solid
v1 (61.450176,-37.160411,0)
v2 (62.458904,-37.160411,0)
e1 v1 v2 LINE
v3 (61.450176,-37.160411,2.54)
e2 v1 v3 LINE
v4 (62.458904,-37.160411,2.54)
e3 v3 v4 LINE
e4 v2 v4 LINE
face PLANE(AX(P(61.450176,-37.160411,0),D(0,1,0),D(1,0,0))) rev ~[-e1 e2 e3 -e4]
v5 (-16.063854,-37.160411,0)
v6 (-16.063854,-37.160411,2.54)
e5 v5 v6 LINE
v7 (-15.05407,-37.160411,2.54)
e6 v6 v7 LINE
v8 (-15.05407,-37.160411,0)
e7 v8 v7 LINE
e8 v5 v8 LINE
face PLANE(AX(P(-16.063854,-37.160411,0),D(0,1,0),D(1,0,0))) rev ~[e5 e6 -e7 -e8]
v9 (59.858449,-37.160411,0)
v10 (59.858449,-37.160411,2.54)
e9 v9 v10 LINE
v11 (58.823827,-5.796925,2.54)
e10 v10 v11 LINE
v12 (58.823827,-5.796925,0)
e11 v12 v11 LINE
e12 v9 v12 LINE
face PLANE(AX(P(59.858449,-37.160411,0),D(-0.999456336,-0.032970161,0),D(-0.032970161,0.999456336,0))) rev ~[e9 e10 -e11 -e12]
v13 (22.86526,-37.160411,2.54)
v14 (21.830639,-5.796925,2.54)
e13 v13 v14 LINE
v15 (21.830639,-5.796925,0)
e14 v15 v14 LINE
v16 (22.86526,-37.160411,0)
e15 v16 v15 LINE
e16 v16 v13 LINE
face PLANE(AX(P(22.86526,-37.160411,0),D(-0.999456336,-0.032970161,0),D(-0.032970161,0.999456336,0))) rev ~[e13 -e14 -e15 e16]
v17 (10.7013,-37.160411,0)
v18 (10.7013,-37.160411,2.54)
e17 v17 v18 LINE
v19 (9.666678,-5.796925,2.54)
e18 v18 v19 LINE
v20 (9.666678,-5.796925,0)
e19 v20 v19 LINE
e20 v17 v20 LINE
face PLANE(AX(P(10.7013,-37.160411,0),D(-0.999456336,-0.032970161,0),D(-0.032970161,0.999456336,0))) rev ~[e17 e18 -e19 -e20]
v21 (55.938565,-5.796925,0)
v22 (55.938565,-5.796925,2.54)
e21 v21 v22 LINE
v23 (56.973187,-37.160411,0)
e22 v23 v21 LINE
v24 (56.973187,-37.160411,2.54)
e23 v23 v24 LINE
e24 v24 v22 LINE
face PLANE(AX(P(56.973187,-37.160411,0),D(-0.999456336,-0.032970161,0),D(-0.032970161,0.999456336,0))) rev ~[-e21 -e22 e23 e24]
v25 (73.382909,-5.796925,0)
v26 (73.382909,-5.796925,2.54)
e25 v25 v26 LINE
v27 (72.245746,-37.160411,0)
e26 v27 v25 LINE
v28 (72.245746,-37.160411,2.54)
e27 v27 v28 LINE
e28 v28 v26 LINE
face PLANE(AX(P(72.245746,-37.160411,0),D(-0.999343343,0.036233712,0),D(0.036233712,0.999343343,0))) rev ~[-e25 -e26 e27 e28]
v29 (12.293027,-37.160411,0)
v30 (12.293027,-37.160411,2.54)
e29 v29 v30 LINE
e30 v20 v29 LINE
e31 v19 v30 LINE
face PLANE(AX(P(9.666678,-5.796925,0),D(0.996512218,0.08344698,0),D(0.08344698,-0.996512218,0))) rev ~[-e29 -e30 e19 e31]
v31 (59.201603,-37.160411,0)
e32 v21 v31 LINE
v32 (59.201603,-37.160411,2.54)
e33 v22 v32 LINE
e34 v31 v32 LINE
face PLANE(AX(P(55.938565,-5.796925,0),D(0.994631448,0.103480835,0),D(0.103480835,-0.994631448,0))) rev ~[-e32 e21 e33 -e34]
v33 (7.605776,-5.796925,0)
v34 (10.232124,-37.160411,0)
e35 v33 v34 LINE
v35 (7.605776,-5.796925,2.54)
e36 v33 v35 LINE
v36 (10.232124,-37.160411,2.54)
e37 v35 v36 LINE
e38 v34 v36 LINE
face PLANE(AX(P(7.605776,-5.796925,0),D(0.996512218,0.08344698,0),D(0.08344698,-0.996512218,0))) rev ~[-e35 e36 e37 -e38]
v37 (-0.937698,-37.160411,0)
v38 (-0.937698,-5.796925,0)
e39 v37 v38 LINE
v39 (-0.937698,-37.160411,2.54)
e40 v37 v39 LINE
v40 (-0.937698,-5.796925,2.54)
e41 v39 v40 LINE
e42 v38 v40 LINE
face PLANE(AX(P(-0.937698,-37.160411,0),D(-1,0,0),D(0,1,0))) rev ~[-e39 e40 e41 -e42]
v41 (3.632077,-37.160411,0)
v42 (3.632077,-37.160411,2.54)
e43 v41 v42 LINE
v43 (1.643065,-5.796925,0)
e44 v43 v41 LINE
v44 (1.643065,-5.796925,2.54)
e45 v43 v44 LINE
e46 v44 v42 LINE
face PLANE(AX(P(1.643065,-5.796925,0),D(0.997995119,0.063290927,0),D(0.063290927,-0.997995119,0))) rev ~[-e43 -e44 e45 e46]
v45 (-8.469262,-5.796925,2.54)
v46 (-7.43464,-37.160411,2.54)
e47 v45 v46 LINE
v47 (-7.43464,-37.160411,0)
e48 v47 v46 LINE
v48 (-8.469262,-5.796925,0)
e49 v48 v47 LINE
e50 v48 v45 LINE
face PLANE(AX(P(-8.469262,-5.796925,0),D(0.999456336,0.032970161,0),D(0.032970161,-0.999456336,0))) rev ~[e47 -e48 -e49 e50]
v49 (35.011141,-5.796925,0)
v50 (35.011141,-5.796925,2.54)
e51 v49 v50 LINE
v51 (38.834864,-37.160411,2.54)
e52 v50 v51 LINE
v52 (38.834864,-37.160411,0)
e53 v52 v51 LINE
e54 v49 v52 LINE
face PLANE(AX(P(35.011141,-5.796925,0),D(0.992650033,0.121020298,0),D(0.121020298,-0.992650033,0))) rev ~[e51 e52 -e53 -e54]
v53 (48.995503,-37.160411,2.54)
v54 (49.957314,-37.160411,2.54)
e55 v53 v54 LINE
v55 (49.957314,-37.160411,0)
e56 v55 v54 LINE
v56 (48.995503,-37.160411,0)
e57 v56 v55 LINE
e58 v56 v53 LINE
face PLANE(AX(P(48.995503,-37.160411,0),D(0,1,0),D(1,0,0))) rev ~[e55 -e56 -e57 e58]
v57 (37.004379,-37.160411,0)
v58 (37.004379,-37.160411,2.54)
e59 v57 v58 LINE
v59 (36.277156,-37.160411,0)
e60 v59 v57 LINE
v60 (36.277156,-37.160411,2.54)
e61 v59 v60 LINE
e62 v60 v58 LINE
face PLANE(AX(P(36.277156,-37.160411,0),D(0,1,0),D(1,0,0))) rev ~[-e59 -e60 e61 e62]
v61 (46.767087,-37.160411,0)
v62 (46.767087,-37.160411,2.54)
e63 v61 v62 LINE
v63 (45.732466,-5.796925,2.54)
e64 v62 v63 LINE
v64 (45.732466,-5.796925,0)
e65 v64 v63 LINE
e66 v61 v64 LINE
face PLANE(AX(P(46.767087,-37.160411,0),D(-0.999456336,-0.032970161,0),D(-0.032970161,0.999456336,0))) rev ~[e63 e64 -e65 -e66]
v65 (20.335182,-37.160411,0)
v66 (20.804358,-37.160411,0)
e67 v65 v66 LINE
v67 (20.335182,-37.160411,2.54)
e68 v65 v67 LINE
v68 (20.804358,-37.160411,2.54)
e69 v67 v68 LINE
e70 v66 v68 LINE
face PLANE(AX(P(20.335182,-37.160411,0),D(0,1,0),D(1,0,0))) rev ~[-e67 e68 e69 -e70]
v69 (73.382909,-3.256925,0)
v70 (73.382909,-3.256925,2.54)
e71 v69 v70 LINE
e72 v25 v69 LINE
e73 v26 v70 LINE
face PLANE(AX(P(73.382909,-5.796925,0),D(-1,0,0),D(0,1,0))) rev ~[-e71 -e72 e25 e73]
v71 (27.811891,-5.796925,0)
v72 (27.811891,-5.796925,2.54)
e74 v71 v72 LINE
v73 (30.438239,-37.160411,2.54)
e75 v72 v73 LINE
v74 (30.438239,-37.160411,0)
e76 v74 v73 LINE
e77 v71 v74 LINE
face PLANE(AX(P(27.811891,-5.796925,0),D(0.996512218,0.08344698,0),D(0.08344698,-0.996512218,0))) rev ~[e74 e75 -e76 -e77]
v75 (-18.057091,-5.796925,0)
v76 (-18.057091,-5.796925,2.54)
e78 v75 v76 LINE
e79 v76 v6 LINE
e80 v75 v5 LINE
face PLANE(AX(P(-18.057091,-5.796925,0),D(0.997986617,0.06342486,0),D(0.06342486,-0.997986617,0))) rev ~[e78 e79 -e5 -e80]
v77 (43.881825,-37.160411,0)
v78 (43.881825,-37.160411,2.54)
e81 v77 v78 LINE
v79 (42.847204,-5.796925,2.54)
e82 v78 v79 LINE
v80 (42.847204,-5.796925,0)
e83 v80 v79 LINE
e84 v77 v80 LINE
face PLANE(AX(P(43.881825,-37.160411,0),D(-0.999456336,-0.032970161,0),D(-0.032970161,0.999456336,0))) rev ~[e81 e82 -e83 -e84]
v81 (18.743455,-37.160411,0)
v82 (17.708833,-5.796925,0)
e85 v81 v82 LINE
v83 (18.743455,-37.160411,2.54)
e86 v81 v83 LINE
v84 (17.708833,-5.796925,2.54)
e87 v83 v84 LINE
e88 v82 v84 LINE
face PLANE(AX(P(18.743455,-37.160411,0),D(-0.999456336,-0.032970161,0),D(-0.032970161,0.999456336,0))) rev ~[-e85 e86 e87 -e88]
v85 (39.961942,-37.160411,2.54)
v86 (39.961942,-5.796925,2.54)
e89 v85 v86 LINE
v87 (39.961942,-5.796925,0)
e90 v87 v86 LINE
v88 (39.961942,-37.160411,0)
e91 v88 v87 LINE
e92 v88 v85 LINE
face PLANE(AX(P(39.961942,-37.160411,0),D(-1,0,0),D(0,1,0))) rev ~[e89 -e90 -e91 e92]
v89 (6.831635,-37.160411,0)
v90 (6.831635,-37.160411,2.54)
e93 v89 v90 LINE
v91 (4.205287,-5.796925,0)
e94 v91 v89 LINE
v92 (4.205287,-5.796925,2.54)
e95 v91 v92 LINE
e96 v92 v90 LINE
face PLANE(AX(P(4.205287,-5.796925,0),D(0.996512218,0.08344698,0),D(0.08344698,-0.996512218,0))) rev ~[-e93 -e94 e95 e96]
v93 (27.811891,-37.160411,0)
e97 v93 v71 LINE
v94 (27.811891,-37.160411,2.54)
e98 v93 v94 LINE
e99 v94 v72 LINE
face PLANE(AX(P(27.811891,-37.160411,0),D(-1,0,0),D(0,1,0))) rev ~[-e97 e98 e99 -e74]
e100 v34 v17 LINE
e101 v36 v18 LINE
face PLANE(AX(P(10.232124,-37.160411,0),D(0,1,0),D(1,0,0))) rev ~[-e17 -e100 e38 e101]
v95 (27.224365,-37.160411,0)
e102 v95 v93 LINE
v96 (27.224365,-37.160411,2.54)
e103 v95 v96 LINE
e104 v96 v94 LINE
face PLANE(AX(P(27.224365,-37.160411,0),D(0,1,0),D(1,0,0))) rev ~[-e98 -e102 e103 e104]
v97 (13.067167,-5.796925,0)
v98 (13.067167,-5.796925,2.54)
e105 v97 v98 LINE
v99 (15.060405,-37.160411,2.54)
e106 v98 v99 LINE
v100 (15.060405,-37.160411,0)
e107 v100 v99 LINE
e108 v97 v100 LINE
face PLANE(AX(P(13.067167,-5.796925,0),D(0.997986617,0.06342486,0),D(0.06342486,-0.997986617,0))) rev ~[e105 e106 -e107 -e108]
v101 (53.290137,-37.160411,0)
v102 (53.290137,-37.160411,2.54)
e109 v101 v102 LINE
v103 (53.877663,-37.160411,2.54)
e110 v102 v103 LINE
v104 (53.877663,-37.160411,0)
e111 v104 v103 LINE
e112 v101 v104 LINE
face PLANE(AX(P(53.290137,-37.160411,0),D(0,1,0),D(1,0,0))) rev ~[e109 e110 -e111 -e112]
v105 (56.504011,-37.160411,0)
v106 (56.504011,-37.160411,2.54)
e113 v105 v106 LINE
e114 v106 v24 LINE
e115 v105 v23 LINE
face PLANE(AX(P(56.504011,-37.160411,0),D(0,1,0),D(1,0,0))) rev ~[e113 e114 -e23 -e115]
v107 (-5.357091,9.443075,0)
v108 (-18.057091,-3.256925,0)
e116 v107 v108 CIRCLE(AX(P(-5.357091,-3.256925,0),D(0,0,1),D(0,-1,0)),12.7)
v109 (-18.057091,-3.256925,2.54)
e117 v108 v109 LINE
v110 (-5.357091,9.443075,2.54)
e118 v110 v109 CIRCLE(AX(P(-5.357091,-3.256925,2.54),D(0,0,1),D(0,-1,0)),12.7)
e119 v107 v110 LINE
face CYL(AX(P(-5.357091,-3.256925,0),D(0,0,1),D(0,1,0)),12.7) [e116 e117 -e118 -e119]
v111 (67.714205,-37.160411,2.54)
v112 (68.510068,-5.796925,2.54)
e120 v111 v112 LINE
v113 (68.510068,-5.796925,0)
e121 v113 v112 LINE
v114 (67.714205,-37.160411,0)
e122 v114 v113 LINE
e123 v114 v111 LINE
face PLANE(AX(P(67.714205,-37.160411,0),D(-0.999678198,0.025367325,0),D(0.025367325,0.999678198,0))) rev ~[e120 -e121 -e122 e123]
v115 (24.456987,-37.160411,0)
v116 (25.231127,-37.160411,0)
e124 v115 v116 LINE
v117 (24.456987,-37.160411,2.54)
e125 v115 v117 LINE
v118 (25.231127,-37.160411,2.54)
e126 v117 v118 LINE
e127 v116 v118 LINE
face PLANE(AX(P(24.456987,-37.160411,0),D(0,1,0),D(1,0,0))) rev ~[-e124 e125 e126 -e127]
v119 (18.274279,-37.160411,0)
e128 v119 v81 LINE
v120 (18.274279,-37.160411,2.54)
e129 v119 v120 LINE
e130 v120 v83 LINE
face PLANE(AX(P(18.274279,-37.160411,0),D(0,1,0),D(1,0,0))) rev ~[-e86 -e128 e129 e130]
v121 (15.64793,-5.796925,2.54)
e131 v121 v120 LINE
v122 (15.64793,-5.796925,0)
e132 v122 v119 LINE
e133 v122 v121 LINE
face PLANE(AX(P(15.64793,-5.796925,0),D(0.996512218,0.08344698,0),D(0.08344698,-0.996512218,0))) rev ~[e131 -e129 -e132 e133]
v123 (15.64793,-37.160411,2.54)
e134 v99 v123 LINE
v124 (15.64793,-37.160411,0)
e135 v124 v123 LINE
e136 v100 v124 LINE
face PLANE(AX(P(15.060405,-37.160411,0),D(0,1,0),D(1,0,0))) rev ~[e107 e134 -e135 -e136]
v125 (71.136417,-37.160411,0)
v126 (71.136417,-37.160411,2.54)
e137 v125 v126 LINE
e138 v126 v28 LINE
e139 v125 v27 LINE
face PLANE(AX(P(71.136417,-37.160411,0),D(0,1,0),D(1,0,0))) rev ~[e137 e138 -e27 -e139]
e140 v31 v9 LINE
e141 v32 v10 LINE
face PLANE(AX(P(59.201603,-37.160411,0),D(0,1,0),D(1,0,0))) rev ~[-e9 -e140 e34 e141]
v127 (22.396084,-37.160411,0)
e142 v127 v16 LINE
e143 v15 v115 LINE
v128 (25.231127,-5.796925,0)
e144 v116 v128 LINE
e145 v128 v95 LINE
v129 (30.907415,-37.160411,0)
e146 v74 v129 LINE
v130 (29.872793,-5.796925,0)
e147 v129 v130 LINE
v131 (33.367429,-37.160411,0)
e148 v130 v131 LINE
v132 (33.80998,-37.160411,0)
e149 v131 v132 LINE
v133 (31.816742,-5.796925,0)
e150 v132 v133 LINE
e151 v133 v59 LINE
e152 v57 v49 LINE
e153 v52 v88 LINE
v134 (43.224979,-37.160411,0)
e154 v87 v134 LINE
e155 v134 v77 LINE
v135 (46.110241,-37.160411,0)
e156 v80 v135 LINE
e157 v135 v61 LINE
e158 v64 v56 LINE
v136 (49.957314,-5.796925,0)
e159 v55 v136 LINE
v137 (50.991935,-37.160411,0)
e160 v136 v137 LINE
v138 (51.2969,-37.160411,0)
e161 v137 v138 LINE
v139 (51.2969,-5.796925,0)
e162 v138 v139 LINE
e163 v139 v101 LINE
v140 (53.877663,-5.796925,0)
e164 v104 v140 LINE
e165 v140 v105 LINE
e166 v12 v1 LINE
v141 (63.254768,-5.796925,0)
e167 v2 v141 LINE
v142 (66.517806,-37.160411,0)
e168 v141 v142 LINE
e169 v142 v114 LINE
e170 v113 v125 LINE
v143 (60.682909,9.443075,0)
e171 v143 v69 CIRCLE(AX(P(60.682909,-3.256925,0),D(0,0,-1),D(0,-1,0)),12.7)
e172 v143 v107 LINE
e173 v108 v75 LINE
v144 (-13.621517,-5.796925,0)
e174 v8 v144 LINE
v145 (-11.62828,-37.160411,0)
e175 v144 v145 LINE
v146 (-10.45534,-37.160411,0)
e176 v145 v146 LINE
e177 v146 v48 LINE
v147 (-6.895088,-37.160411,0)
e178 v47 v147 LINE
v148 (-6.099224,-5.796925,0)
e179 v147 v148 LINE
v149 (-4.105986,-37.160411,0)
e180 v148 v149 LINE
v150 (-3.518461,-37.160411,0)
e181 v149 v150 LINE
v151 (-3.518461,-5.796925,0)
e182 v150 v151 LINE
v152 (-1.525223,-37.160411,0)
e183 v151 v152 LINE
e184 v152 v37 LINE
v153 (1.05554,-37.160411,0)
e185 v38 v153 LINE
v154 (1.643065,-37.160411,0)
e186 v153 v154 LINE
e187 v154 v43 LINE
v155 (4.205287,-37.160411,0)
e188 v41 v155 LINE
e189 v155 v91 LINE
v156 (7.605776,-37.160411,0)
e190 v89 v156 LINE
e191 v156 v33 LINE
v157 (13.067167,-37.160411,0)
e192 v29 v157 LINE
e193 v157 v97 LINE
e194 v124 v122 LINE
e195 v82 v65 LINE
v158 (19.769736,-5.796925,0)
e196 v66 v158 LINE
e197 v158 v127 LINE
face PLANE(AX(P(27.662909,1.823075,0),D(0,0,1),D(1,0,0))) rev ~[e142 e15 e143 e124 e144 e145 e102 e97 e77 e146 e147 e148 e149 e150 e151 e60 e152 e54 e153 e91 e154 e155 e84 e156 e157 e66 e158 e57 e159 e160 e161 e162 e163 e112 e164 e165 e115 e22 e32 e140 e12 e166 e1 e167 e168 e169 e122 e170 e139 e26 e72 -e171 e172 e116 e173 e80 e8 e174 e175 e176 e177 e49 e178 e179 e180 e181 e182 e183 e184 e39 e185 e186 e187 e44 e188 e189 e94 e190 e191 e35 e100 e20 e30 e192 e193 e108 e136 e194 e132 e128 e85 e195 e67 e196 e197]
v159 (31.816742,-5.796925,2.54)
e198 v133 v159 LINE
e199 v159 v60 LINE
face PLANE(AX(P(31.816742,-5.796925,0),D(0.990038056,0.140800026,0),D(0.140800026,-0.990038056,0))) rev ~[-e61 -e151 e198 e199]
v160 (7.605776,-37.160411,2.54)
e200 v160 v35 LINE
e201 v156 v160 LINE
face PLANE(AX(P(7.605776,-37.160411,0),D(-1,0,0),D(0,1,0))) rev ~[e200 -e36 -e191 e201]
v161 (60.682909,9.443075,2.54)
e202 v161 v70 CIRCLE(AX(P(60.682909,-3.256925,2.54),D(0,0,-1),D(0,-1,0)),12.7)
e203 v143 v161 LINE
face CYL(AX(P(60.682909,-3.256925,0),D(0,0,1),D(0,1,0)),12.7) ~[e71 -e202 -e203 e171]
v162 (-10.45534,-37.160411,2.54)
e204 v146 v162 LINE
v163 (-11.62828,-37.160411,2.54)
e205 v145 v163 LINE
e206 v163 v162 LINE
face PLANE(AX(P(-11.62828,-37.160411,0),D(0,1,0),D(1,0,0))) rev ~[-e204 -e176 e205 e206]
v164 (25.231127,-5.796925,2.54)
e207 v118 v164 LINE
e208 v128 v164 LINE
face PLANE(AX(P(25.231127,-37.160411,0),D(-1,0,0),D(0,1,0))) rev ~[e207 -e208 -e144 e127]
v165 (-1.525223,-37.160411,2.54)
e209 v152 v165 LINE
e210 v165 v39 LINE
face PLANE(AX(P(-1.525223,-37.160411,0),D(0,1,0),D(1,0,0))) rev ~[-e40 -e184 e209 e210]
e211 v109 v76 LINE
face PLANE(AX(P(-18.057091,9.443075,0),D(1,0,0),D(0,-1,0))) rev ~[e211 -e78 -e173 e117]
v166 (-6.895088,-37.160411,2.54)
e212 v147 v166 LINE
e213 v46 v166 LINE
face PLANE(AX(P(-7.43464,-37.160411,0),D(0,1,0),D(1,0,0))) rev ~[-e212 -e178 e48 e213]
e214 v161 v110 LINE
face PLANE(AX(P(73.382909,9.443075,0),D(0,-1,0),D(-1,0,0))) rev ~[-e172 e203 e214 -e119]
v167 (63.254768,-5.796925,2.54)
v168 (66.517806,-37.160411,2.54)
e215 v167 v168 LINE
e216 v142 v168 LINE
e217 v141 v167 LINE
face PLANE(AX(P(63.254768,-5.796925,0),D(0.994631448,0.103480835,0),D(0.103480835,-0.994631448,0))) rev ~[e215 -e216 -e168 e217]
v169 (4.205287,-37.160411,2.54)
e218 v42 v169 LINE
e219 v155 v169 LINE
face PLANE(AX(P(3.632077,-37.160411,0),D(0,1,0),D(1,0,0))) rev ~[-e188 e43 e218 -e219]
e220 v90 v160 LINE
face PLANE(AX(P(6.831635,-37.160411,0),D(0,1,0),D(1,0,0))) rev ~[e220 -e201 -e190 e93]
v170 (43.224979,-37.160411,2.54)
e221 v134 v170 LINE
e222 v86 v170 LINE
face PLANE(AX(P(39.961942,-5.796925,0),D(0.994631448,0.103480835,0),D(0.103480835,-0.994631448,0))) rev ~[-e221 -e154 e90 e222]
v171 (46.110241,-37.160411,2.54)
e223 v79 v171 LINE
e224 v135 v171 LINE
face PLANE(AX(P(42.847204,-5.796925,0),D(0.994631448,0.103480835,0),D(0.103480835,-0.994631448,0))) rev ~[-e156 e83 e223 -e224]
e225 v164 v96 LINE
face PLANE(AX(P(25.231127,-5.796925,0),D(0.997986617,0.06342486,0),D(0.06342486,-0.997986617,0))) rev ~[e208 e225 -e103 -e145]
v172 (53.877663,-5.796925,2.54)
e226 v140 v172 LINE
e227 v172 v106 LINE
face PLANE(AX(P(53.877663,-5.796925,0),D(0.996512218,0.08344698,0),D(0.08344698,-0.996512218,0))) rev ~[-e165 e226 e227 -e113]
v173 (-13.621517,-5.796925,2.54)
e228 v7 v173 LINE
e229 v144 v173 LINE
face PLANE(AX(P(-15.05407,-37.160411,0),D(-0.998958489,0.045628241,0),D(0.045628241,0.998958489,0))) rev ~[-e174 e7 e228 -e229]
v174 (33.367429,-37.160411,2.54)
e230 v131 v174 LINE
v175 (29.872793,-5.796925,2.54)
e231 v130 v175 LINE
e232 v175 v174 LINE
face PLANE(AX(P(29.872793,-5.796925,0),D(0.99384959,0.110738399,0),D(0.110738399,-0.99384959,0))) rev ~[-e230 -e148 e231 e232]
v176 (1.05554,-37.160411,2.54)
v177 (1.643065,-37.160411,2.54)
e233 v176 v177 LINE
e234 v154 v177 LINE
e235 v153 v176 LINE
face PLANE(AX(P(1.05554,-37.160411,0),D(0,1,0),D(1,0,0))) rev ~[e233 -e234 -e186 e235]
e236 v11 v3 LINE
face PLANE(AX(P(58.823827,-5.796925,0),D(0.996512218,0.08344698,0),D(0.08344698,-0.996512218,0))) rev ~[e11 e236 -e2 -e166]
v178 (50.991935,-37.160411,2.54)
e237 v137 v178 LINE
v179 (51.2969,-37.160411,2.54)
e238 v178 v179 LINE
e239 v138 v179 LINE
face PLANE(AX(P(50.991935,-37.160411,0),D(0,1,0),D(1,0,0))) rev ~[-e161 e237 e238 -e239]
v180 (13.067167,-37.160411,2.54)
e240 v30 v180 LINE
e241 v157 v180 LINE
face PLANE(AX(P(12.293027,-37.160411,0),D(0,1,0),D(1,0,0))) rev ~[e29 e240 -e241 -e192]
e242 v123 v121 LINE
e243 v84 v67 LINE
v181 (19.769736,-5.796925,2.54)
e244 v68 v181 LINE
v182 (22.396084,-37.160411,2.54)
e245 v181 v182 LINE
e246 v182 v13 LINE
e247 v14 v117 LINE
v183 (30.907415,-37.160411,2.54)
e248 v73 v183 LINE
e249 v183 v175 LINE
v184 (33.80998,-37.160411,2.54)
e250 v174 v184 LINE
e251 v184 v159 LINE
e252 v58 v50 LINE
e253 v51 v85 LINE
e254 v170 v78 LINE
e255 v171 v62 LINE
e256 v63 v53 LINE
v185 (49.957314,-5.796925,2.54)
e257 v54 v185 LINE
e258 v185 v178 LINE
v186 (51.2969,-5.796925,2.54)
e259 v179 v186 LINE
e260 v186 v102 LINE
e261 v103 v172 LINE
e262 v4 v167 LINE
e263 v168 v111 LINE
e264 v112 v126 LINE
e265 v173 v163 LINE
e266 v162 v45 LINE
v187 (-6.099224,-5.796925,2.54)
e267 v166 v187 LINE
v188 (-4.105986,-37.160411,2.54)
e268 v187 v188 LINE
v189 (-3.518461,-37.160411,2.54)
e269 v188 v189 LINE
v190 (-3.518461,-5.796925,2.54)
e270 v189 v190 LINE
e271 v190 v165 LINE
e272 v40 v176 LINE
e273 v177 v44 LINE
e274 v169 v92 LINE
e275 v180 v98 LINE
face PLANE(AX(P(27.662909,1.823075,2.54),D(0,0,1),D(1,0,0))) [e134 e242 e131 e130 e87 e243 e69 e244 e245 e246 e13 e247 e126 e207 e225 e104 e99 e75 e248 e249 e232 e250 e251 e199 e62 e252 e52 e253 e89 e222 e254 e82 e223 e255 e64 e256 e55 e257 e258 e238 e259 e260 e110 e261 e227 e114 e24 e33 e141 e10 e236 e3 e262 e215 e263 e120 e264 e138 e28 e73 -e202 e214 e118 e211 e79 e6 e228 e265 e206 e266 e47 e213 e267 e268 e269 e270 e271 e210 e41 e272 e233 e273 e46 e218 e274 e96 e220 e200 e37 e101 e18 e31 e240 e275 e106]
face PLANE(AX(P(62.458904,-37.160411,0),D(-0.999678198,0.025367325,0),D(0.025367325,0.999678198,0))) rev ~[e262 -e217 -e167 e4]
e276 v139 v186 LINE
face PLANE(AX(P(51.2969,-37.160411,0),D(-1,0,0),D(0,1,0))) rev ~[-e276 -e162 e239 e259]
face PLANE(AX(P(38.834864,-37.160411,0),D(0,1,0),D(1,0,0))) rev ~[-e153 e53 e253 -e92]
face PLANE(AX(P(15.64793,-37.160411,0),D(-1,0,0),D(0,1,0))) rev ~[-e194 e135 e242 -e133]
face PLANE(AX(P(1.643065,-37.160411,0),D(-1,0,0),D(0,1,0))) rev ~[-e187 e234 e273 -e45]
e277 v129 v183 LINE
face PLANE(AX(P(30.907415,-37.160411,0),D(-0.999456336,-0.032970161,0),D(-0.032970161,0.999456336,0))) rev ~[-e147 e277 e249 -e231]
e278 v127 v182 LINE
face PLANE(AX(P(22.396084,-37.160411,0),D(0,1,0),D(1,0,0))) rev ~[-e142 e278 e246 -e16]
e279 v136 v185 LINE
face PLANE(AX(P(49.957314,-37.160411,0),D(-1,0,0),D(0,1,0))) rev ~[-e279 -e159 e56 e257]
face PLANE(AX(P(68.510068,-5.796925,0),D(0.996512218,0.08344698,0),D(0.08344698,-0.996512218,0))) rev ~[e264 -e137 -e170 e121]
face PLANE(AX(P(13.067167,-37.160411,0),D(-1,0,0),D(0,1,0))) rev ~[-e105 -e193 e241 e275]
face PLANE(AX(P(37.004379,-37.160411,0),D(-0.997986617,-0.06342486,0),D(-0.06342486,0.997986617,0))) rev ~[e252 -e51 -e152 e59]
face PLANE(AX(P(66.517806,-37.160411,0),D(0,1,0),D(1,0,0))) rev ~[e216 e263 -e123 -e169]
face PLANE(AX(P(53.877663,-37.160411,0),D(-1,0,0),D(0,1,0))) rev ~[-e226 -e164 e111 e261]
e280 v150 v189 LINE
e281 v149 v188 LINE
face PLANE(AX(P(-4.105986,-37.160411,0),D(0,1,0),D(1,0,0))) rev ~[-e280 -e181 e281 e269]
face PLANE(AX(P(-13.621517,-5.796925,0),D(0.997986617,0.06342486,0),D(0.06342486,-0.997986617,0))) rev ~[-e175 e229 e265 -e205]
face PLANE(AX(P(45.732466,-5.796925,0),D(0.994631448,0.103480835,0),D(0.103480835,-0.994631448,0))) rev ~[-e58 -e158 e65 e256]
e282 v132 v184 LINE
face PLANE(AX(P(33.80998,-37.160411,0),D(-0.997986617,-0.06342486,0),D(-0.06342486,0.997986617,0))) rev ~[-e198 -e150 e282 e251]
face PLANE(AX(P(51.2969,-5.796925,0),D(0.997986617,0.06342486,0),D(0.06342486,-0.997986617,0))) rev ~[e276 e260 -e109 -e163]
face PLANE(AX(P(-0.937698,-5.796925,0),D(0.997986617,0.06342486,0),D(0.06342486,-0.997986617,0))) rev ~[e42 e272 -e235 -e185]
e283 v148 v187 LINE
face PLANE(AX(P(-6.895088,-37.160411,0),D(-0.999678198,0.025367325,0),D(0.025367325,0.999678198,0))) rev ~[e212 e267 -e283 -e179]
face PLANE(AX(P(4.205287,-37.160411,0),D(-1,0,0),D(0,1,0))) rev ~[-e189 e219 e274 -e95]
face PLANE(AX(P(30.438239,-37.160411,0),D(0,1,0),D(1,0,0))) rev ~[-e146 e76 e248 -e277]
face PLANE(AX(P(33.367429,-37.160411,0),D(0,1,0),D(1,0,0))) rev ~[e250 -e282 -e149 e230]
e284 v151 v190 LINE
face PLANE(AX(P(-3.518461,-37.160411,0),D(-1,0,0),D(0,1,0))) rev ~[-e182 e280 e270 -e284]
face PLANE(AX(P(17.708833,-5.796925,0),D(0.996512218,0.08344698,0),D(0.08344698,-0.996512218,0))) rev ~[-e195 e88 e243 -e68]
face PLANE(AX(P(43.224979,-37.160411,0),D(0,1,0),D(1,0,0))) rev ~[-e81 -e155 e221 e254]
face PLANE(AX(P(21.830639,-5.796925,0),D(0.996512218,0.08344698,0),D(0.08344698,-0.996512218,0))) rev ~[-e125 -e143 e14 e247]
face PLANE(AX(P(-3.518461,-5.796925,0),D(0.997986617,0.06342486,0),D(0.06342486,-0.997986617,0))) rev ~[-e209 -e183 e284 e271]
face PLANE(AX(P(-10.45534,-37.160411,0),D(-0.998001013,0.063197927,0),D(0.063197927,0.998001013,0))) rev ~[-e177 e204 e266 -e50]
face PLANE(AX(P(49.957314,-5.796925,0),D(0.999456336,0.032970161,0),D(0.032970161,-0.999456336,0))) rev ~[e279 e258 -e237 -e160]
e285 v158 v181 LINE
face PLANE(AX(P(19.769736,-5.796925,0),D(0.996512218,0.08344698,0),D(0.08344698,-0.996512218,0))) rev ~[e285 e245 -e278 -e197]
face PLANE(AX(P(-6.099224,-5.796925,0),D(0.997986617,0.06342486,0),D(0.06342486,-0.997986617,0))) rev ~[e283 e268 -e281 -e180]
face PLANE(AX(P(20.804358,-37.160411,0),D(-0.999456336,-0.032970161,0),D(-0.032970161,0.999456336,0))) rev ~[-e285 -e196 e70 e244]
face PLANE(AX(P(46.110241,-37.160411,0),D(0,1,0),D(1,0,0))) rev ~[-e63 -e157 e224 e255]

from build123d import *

# Parameters (mm, degrees)
F1_DEPTH = 2.54
F2_R     = 12.7


with BuildPart() as f1:
    # F0 (on Top) → F1 (new body)
    with BuildSketch(Plane.XY):
        Polygon((73.3829085314, 9.4430754296), (-18.0570914686, 9.4430754296), (-18.0570914686, -5.7969245704), (-13.6215174571, -5.7969245704), (-8.4692621604, -5.7969245704), (-6.0992240906, -5.7969245704), (-3.5184609428, -5.7969245704), (-0.937697795, -5.7969245704), (1.6430653527, -5.7969245704), (4.2052869685, -5.7969245704), (7.6057757251, -5.7969245704), (9.6666784957, -5.7969245704), (13.0671672523, -5.7969245704), (15.6479304001, -5.7969245704), (17.7088331707, -5.7969245704), (19.7697359413, -5.7969245704), (21.8306387119, -5.7969245704), (25.2311274685, -5.7969245704), (27.8118906163, -5.7969245704), (29.8727933869, -5.7969245704), (31.816742076, -5.7969245704), (35.011141254, -5.7969245704), (39.9619415402, -5.7969245704), (42.8472035564, -5.7969245704), (45.7324655727, -5.7969245704), (49.9573135749, -5.7969245704), (51.2968995608, -5.7969245704), (53.8776627086, -5.7969245704), (55.9385654792, -5.7969245704), (58.8238274954, -5.7969245704), (63.2547683358, -5.7969245704), (68.5100684218, -5.7969245704), (73.3829085314, -5.7969245704), align=None)
        Polygon((-13.6215174571, -5.7969245704), (-18.0570914686, -5.7969245704), (-16.0638535681, -37.1604112962), (-15.0540701944, -37.1604112962), align=None)
        Polygon((-8.4692621604, -5.7969245704), (-13.6215174571, -5.7969245704), (-11.6282795566, -37.1604112962), (-10.455339657, -37.1604112962), align=None)
        Polygon((-6.0992240906, -5.7969245704), (-8.4692621604, -5.7969245704), (-7.4346404592, -37.1604112962), (-6.8950879612, -37.1604112962), align=None)
        Polygon((-3.5184609428, -5.7969245704), (-6.0992240906, -5.7969245704), (-4.1059861901, -37.1604112962), (-3.5184609428, -37.1604112962), align=None)
        Polygon((-0.937697795, -5.7969245704), (-3.5184609428, -5.7969245704), (-1.5252230424, -37.1604112962), (-0.937697795, -37.1604112962), align=None)
        Polygon((1.6430653527, -5.7969245704), (-0.937697795, -5.7969245704), (1.0555401054, -37.1604112962), (1.6430653527, -37.1604112962), align=None)
        Polygon((4.2052869685, -5.7969245704), (1.6430653527, -5.7969245704), (3.6320772404, -37.1604112962), (4.2052869685, -37.1604112962), align=None)
        Polygon((7.6057757251, -5.7969245704), (4.2052869685, -5.7969245704), (6.831635332, -37.1604112962), (7.6057757251, -37.1604112962), align=None)
        Polygon((13.0671672523, -5.7969245704), (9.6666784957, -5.7969245704), (12.2930268592, -37.1604112962), (13.0671672523, -37.1604112962), align=None)
        Polygon((15.6479304001, -5.7969245704), (13.0671672523, -5.7969245704), (15.0604051528, -37.1604112962), (15.6479304001, -37.1604112962), align=None)
        Polygon((17.7088331707, -5.7969245704), (15.6479304001, -5.7969245704), (18.2742787636, -37.1604112962), (18.7434548718, -37.1604112962), align=None)
        Polygon((19.7697359413, -5.7969245704), (17.7088331707, -5.7969245704), (20.3351815342, -37.1604112962), (20.8043576424, -37.1604112962), align=None)
        Polygon((21.8306387119, -5.7969245704), (19.7697359413, -5.7969245704), (22.3960843048, -37.1604112962), (22.865260413, -37.1604112962), align=None)
        Polygon((30.907415088, -37.1604112962), (29.8727933869, -5.7969245704), (27.8118906163, -5.7969245704), (30.4382389798, -37.1604112962), align=None)
        Polygon((33.8099799764, -37.1604112962), (31.816742076, -5.7969245704), (29.8727933869, -5.7969245704), (33.3674291227, -37.1604112962), align=None)
        Polygon((37.0043791545, -37.1604112962), (35.011141254, -5.7969245704), (31.816742076, -5.7969245704), (36.2771562132, -37.1604112962), align=None)
        Polygon((39.9619415402, -37.1604112962), (39.9619415402, -5.7969245704), (35.011141254, -5.7969245704), (38.834864007, -37.1604112962), align=None)
        Polygon((25.2311274685, -5.7969245704), (21.8306387119, -5.7969245704), (24.4569870754, -37.1604112962), (25.2311274685, -37.1604112962), align=None)
        Polygon((27.8118906163, -37.1604112962), (27.8118906163, -5.7969245704), (25.2311274685, -5.7969245704), (27.2243653689, -37.1604112962), align=None)
        Polygon((43.8818252576, -37.1604112962), (42.8472035564, -5.7969245704), (39.9619415402, -5.7969245704), (43.2249791301, -37.1604112962), align=None)
        Polygon((46.7670872738, -37.1604112962), (45.7324655727, -5.7969245704), (42.8472035564, -5.7969245704), (46.1102411463, -37.1604112962), align=None)
        Polygon((49.9573135749, -37.1604112962), (49.9573135749, -5.7969245704), (45.7324655727, -5.7969245704), (48.9955031625, -37.1604112962), align=None)
        Polygon((51.2968995608, -37.1604112962), (51.2968995608, -5.7969245704), (49.9573135749, -5.7969245704), (50.991935276, -37.1604112962), align=None)
        Polygon((53.8776627086, -37.1604112962), (53.8776627086, -5.7969245704), (51.2968995608, -5.7969245704), (53.2901374613, -37.1604112962), align=None)
        Polygon((56.9731871804, -37.1604112962), (55.9385654792, -5.7969245704), (53.8776627086, -5.7969245704), (56.5040110721, -37.1604112962), align=None)
        Polygon((59.8584491966, -37.1604112962), (58.8238274954, -5.7969245704), (55.9385654792, -5.7969245704), (59.201603069, -37.1604112962), align=None)
        Polygon((62.4589044652, -37.1604112962), (63.2547683358, -5.7969245704), (58.8238274954, -5.7969245704), (61.4501758589, -37.1604112962), align=None)
        Polygon((67.7142045512, -37.1604112962), (68.5100684218, -5.7969245704), (63.2547683358, -5.7969245704), (66.5178059256, -37.1604112962), align=None)
        Polygon((72.2457462459, -37.1604112962), (73.3829085314, -5.7969245704), (68.5100684218, -5.7969245704), (71.1364167853, -37.1604112962), align=None)
        Polygon((9.6666784957, -5.7969245704), (7.6057757251, -5.7969245704), (10.2321240886, -37.1604112962), (10.7013001968, -37.1604112962), align=None)
    extrude(amount=F1_DEPTH)

    # F2
    f2_edges = [f1.edges().sort_by_distance(p)[0] for p in [
        (73.382909, 9.443075, 1.27),
        (-18.057091, 9.443075, 1.27),
    ]]
    fillet(f2_edges, radius=F2_R)


solid = f1.part
